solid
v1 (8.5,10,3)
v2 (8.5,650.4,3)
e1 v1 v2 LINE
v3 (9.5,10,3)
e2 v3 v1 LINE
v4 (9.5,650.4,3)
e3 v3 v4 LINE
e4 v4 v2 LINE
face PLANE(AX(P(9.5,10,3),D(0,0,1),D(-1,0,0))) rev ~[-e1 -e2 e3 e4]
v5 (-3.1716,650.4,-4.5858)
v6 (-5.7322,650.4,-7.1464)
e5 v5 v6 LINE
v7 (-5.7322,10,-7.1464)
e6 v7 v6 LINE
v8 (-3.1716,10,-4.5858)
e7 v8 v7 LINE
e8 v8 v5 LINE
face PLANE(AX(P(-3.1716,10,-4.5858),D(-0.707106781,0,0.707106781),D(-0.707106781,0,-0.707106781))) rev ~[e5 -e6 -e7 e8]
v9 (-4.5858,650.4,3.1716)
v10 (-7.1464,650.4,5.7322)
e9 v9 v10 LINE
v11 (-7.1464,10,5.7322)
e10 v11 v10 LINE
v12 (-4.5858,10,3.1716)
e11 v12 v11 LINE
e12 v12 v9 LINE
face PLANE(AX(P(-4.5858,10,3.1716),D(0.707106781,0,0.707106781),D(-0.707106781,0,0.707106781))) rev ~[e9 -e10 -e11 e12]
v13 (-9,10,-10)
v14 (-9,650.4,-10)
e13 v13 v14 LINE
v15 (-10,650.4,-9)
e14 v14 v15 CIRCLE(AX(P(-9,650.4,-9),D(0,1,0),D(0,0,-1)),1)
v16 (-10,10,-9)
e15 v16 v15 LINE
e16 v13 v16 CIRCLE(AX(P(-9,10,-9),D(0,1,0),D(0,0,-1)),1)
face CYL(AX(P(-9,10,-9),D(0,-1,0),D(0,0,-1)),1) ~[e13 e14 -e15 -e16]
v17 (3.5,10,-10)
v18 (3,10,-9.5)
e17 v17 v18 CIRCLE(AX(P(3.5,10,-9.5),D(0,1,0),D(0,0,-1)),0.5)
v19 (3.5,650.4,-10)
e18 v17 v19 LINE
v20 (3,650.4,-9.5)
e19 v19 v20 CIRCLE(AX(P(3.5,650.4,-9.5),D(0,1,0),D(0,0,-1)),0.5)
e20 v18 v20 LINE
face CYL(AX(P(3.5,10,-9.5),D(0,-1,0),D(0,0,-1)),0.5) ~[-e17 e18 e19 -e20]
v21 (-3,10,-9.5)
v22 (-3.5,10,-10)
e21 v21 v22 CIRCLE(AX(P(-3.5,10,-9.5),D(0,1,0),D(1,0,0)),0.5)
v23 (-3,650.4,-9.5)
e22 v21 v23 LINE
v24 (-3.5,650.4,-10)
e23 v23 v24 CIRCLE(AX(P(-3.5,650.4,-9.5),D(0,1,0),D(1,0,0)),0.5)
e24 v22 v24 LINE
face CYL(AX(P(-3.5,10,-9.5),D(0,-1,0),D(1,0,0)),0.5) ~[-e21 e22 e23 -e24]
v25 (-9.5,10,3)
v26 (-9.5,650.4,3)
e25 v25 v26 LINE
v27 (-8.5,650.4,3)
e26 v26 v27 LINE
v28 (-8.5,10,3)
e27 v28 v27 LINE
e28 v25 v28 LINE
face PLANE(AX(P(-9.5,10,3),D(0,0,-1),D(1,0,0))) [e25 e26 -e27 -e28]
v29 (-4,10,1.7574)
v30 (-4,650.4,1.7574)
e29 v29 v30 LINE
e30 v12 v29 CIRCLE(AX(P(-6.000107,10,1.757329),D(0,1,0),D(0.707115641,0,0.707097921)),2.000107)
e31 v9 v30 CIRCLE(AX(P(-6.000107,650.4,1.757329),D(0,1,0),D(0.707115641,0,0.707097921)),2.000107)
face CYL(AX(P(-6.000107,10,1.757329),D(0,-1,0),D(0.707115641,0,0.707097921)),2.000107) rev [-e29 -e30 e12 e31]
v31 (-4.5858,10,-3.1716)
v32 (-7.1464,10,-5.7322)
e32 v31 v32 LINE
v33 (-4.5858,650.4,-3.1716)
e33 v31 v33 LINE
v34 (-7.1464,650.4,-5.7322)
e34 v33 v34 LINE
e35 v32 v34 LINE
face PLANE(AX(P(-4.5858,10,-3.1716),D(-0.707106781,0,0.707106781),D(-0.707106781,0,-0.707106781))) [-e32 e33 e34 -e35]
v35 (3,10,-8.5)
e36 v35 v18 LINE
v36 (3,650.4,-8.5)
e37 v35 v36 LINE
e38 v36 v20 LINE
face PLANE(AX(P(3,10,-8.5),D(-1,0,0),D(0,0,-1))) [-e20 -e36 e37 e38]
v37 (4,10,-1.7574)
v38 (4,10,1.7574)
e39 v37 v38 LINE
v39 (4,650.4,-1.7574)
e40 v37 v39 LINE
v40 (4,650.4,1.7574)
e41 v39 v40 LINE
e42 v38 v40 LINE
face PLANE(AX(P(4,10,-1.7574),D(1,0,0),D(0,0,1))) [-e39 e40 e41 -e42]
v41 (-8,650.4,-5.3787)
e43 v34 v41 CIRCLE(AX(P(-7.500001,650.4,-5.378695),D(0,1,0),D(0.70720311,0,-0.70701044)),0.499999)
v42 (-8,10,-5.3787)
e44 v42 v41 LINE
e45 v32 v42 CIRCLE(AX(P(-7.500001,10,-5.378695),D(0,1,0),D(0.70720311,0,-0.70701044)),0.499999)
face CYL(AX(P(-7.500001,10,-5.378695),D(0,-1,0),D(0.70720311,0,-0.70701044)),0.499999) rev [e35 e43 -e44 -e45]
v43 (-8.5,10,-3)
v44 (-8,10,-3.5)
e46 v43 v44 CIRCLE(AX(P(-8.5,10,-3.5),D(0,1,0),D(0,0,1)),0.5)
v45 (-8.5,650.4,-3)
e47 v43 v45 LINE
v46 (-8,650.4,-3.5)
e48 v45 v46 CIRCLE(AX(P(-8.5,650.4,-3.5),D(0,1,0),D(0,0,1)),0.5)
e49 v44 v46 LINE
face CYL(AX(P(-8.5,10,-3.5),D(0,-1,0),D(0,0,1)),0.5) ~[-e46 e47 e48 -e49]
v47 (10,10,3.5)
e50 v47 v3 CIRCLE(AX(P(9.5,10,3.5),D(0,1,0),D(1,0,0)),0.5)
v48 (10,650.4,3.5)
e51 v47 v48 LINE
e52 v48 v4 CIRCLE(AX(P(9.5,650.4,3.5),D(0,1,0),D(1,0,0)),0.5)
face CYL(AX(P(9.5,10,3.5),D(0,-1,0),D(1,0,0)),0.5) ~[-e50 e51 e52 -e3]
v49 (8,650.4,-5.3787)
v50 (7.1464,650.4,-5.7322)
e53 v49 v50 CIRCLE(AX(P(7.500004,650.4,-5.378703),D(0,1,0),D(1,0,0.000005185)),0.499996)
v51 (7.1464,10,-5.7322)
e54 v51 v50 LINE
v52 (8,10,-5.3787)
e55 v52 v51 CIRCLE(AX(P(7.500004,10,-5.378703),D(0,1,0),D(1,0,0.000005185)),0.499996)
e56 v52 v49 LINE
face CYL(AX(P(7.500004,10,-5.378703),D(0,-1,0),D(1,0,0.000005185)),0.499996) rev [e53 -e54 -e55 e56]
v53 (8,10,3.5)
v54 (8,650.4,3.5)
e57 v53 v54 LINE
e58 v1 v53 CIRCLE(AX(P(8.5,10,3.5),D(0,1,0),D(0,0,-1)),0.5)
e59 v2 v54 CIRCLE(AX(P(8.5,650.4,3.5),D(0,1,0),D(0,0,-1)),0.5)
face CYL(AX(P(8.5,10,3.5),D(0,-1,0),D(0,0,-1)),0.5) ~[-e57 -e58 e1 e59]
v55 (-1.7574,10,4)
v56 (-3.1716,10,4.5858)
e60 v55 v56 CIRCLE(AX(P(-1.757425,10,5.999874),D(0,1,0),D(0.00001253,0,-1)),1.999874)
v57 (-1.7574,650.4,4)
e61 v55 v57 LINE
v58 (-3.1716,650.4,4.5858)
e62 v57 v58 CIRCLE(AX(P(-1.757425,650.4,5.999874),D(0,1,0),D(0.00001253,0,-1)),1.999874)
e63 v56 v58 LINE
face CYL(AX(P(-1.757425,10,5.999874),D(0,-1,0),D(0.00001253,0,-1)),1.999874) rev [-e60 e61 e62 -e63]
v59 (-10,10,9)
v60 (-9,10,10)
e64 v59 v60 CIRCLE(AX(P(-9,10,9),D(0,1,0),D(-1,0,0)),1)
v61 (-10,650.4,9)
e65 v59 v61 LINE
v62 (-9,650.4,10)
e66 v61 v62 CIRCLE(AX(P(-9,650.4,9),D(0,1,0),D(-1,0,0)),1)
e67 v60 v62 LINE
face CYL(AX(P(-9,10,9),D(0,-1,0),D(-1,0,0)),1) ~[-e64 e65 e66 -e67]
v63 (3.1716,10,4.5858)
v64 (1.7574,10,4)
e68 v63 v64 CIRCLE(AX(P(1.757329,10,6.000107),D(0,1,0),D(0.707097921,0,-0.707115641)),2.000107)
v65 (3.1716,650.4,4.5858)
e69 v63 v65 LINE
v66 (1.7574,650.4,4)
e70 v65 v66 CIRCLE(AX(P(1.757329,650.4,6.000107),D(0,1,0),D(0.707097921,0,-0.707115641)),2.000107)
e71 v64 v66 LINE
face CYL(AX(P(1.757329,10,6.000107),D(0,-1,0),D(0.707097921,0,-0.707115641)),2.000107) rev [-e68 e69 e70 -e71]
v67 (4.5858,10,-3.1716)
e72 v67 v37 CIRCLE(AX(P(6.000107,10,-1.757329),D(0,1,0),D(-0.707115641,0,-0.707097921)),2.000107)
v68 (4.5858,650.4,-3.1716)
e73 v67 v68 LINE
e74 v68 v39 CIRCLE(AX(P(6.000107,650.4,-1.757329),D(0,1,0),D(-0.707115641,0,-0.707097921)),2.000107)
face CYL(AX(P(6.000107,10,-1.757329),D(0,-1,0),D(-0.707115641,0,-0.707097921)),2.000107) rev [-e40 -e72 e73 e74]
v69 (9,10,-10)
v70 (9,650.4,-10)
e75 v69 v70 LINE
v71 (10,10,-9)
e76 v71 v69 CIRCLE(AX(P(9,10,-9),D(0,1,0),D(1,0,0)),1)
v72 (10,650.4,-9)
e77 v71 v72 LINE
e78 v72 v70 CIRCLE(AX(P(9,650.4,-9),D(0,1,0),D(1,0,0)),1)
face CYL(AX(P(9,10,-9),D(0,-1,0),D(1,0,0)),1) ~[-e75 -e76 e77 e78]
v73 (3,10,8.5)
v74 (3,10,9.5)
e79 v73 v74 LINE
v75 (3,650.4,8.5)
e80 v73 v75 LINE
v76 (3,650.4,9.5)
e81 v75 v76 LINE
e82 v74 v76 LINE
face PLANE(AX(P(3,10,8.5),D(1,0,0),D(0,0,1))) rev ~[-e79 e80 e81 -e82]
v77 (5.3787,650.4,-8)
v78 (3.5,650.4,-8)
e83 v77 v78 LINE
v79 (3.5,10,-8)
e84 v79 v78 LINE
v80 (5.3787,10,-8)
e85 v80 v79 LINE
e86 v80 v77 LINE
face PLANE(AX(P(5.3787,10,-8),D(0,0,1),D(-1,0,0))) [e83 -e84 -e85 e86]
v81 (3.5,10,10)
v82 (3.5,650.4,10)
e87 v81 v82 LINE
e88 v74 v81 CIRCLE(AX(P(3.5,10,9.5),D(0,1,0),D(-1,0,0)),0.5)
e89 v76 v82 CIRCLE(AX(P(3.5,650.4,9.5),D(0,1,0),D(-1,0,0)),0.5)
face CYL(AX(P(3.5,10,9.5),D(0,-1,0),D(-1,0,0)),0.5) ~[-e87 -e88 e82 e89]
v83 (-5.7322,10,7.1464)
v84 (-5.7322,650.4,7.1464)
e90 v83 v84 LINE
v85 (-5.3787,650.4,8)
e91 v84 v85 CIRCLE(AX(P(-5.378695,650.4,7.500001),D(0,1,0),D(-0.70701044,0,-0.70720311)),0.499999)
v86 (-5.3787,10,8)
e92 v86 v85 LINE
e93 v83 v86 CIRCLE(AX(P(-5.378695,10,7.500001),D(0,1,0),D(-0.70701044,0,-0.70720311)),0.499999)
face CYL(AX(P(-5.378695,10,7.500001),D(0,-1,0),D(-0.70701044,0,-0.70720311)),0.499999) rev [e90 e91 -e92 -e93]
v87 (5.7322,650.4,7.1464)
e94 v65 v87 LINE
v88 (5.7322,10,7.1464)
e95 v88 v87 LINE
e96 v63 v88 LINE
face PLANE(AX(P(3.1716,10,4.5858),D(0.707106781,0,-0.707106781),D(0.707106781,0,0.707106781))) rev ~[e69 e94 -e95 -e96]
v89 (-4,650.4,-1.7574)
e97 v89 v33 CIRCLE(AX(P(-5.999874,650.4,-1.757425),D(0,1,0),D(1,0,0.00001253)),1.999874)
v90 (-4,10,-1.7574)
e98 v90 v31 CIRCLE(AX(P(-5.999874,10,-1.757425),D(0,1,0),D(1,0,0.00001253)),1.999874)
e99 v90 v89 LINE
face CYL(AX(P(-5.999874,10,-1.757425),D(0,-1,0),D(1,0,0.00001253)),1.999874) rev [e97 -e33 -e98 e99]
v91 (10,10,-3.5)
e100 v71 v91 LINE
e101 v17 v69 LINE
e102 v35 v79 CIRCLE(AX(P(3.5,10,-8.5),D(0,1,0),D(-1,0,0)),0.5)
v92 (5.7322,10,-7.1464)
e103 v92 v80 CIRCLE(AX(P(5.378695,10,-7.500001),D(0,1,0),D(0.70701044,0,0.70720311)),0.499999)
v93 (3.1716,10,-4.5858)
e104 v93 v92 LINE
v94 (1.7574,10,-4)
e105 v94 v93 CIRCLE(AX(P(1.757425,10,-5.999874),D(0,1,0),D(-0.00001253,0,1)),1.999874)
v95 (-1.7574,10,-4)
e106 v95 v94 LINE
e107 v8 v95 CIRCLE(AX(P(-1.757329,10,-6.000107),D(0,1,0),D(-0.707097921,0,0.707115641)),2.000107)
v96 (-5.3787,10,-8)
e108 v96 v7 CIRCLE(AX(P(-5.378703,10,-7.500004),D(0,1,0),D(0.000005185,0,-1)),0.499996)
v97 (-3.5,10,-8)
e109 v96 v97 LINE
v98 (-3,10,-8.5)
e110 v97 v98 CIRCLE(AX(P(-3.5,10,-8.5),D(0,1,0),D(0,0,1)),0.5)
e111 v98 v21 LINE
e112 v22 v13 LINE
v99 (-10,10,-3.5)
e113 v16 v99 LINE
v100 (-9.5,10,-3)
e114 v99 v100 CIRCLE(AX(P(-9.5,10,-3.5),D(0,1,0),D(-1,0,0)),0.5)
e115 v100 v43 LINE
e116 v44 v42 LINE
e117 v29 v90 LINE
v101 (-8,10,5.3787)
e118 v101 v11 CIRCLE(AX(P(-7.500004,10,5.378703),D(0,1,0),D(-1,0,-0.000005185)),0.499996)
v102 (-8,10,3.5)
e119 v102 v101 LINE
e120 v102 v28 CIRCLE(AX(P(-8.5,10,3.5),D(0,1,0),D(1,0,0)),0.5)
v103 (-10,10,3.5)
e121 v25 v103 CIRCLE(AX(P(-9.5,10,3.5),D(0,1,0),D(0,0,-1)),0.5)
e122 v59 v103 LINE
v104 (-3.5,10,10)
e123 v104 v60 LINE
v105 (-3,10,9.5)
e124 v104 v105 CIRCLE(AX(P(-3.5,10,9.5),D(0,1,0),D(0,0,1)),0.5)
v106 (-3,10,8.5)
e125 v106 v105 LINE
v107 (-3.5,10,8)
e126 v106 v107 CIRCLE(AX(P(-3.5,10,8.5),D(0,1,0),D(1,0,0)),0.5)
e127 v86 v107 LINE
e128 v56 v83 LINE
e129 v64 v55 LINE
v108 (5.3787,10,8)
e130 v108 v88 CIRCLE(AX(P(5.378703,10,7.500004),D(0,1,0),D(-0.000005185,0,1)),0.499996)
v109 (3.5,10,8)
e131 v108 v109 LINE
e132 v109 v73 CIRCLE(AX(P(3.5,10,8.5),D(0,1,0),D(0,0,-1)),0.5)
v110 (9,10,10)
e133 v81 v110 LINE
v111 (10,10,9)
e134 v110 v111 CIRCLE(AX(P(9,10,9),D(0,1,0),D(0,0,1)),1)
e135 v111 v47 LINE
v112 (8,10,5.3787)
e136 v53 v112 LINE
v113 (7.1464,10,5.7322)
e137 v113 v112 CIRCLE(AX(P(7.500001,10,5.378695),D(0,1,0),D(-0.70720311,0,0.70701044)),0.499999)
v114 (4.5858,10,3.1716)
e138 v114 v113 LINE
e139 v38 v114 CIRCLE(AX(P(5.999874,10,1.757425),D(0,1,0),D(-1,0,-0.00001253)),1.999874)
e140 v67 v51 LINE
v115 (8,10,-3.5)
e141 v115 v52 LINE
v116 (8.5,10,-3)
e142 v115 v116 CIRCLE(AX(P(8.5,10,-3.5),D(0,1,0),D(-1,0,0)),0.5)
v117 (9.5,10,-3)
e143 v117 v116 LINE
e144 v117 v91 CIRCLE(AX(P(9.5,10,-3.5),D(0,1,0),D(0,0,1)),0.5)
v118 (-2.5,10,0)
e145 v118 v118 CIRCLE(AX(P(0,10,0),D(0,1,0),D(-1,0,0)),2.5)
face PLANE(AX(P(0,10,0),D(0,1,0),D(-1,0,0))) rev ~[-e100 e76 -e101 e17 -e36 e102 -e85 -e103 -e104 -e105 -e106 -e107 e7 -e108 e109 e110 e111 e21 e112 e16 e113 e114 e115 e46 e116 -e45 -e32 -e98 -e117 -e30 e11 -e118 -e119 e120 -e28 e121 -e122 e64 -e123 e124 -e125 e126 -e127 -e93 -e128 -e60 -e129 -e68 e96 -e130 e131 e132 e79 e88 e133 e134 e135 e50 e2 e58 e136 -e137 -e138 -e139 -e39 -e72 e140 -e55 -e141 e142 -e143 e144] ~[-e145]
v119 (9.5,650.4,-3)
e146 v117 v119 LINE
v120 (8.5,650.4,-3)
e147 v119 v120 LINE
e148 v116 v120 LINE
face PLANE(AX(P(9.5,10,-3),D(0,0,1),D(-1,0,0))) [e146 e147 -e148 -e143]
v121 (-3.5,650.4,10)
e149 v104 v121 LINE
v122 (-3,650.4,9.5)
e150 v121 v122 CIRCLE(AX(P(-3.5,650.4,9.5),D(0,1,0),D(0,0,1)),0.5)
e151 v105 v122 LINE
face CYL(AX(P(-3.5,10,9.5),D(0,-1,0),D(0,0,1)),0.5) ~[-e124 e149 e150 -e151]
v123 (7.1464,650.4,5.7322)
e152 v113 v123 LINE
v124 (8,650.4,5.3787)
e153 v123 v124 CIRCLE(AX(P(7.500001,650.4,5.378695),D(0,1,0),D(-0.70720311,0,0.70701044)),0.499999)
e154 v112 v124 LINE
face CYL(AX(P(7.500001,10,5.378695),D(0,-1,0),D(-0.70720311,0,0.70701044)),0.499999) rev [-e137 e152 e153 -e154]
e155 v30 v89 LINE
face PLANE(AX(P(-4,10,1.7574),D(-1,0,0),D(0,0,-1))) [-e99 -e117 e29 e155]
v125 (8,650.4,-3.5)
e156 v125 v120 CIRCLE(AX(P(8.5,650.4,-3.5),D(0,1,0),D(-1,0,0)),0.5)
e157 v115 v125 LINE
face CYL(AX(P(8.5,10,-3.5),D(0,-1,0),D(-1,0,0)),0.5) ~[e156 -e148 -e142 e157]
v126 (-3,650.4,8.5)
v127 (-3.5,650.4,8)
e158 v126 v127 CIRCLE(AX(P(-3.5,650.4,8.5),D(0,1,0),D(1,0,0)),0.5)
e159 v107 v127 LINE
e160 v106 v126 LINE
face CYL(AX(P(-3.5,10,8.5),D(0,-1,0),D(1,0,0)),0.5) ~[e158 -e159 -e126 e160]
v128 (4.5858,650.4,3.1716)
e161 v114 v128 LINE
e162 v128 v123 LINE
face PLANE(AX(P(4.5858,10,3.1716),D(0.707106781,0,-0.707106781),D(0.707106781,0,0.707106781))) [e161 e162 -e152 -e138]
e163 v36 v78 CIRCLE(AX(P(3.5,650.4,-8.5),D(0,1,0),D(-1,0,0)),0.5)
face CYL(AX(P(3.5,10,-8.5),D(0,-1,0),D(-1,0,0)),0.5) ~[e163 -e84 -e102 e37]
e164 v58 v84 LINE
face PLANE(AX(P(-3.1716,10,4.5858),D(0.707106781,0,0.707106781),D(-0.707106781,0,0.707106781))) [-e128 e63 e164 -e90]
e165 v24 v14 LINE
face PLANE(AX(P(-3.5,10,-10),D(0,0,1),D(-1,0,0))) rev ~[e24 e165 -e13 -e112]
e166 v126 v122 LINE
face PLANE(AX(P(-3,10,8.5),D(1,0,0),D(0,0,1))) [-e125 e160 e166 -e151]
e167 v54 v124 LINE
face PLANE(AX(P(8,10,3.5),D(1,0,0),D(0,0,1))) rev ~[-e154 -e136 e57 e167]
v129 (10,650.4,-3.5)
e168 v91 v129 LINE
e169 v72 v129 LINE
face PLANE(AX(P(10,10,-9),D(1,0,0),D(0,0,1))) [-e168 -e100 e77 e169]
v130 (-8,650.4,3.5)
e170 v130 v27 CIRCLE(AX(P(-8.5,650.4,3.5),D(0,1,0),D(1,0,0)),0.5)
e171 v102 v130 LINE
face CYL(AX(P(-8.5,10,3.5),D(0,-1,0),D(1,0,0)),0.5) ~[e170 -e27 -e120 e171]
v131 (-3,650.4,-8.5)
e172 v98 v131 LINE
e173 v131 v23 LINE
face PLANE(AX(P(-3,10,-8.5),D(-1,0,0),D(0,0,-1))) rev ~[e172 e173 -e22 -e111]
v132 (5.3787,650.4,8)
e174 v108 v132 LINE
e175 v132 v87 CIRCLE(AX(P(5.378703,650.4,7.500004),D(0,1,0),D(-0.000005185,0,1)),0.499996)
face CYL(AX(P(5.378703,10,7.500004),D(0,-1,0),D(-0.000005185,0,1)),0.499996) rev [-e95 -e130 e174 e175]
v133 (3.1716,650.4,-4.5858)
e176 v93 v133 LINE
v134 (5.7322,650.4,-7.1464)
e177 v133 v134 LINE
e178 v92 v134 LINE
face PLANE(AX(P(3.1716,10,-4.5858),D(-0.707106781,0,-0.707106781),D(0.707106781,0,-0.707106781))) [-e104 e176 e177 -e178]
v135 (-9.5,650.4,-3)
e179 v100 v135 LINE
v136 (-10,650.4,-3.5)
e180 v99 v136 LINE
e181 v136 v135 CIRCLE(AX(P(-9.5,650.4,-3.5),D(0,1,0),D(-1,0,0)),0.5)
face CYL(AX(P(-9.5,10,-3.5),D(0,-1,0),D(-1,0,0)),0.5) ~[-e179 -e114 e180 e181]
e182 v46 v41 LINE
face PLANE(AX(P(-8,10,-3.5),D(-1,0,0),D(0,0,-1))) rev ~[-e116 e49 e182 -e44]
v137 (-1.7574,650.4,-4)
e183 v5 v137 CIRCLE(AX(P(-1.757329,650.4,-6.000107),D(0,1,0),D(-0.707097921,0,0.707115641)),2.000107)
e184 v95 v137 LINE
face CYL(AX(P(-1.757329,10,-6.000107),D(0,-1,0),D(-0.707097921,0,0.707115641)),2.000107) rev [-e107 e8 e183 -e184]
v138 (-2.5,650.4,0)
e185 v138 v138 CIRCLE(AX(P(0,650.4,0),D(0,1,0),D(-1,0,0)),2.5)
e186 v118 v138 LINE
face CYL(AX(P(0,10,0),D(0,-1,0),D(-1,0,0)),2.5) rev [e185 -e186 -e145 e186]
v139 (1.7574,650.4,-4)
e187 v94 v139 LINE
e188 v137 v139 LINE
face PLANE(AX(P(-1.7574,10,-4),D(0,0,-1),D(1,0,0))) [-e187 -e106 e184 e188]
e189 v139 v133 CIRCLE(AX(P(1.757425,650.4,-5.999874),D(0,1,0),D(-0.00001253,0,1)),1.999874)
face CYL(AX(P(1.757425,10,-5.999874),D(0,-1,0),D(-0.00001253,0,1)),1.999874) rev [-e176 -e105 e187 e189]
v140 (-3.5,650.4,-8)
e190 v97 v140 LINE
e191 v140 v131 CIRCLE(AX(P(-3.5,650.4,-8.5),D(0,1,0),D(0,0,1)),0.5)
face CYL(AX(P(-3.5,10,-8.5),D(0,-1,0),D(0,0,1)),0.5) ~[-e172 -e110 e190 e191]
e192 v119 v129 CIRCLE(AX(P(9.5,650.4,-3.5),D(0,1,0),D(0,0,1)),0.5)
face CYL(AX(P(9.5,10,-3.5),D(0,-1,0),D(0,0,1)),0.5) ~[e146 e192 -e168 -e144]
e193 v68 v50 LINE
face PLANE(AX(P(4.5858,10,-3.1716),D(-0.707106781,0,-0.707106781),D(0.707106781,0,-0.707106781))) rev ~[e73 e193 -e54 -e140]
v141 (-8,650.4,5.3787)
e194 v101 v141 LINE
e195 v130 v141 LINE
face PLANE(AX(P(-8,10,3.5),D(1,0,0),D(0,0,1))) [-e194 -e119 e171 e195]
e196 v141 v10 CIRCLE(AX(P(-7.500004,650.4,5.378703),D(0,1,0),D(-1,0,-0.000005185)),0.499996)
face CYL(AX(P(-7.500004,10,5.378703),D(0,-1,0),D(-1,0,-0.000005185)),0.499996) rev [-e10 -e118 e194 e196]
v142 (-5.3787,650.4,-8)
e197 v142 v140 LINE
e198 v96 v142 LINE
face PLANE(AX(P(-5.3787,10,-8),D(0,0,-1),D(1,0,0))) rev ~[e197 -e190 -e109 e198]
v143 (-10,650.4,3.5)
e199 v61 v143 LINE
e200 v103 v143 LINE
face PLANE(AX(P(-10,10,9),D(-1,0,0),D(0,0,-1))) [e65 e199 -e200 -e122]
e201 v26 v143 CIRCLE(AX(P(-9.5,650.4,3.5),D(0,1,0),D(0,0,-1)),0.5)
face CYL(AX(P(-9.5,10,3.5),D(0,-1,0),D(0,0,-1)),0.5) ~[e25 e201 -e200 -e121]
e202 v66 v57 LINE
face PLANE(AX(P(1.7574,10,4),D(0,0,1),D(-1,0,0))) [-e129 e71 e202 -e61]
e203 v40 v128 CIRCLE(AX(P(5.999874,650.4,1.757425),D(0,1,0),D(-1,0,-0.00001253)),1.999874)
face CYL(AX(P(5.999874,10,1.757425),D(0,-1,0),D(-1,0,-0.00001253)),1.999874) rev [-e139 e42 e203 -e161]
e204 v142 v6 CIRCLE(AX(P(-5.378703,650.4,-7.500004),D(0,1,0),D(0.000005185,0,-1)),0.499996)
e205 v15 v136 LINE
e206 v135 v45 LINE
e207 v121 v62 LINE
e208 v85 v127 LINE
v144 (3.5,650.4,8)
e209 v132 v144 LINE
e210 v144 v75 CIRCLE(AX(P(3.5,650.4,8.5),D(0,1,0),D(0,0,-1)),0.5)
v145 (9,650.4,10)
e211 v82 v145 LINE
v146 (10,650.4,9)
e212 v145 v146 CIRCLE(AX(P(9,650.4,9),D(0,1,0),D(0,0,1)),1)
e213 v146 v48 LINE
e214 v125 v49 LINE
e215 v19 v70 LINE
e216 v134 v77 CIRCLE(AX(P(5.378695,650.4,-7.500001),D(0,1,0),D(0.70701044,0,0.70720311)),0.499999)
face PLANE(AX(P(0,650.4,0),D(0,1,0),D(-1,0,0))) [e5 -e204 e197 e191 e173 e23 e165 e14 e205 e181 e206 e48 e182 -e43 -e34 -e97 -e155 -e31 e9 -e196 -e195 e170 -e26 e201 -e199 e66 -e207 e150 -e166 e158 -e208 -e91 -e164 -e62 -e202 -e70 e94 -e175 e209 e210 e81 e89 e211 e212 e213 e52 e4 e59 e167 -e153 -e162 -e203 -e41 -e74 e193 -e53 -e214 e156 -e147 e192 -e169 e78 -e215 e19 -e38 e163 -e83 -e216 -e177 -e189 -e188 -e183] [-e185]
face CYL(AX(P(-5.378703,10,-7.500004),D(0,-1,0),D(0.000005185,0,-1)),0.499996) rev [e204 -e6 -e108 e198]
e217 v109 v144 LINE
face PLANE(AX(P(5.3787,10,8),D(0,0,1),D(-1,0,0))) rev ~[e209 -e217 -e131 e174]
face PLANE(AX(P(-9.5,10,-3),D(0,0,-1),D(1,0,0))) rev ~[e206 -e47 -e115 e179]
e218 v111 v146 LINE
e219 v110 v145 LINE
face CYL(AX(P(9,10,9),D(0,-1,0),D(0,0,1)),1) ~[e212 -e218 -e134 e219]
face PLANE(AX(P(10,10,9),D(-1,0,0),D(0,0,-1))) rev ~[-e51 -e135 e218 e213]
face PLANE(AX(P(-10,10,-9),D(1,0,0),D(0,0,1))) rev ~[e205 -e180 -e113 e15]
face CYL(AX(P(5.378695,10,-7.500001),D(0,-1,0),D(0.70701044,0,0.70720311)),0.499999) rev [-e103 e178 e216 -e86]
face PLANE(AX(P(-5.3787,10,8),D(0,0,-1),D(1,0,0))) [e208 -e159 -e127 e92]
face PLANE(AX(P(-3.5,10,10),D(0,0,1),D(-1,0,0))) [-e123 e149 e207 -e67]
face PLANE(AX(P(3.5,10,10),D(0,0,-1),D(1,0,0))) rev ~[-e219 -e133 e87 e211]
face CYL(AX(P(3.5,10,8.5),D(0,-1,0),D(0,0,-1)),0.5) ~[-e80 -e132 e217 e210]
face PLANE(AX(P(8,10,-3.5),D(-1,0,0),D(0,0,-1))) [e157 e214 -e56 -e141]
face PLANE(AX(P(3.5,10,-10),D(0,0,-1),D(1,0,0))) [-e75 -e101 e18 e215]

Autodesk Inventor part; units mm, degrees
ref_plane "Start Plane" through (0, 10, 0) normal (0, 1, 0) x (-1, 0, 0)
ref_plane "End Plane" through (0, 650.4, 0) normal (0, 1, 0) x (-1, 0, 0)
sketch "Sketch" plane through (0, 0, 0) normal (0, 1, 0) x (-1, 0, 0)
  line L0 (-1.7574, 4) -> (1.7574, 4)
  line L1 (4, 1.7574) -> (4, -1.7574)
  line L2 (1.7574, -4) -> (-1.7574, -4)
  line L3 (-4, -1.7574) -> (-4, 1.7574)
  line L4 (4.5858, -3.1716) -> (7.1464, -5.7322)
  line L5 (3.1716, -4.5858) -> (5.7322, -7.1464)
  line L6 (5.3787, -8) -> (3.5, -8)
  line L7 (3, -8.5) -> (3, -9.5)
  line L8 (3.5, -10) -> (9, -10)
  line L9 (10, -9) -> (10, -3.5)
  line L10 (9.5, -3) -> (8.5, -3)
  line L11 (8, -3.5) -> (8, -5.3787)
  line L12 (4, 0) -> (-4, 0) construction
  line L13 (0, -4) -> (0, 4) construction
  arc A0 (4, -1.7574) -> (4.5858, -3.1716) centre (6, -1.7574) ccw
  arc A1 (3.1716, -4.5858) -> (1.7574, -4) centre (1.7574, -6) ccw
  arc A2 (3.5, -8) -> (3, -8.5) centre (3.5, -8.5) ccw
  arc A3 (3, -9.5) -> (3.5, -10) centre (3.5, -9.5) ccw
  arc A4 (10, -3.5) -> (9.5, -3) centre (9.5, -3.5) ccw
  arc A5 (8.5, -3) -> (8, -3.5) centre (8.5, -3.5) ccw
  arc A6 (7.1464, -5.7322) -> (8, -5.3787) centre (7.5, -5.3787) ccw
  arc A7 (5.3787, -8) -> (5.7322, -7.1464) centre (5.3787, -7.5) ccw
  arc A8 (9, -10) -> (10, -9) centre (9, -9) ccw
  line L14 (-4.5858, -3.1716) -> (-7.1464, -5.7322)
  line L15 (-3.1716, -4.5858) -> (-5.7322, -7.1464)
  line L16 (-5.3787, -8) -> (-3.5, -8)
  line L17 (-3, -8.5) -> (-3, -9.5)
  line L18 (-3.5, -10) -> (-9, -10)
  line L19 (-10, -9) -> (-10, -3.5)
  line L20 (-9.5, -3) -> (-8.5, -3)
  line L21 (-8, -3.5) -> (-8, -5.3787)
  arc A9 (-4.5858, -3.1716) -> (-4, -1.7574) centre (-6, -1.7574) ccw
  arc A10 (-1.7574, -4) -> (-3.1716, -4.5858) centre (-1.7574, -6) ccw
  arc A11 (-3, -8.5) -> (-3.5, -8) centre (-3.5, -8.5) ccw
  arc A12 (-3.5, -10) -> (-3, -9.5) centre (-3.5, -9.5) ccw
  arc A13 (-9.5, -3) -> (-10, -3.5) centre (-9.5, -3.5) ccw
  arc A14 (-8, -3.5) -> (-8.5, -3) centre (-8.5, -3.5) ccw
  arc A15 (-8, -5.3787) -> (-7.1464, -5.7322) centre (-7.5, -5.3787) ccw
  arc A16 (-5.7322, -7.1464) -> (-5.3787, -8) centre (-5.3787, -7.5) ccw
  arc A17 (-10, -9) -> (-9, -10) centre (-9, -9) ccw
  line L22 (4.5858, 3.1716) -> (7.1464, 5.7322)
  line L23 (3.1716, 4.5858) -> (5.7322, 7.1464)
  line L24 (5.3787, 8) -> (3.5, 8)
  line L25 (3, 8.5) -> (3, 9.5)
  line L26 (3.5, 10) -> (9, 10)
  line L27 (10, 9) -> (10, 3.5)
  line L28 (9.5, 3) -> (8.5, 3)
  line L29 (8, 3.5) -> (8, 5.3787)
  arc A18 (4.5858, 3.1716) -> (4, 1.7574) centre (6, 1.7574) ccw
  arc A19 (1.7574, 4) -> (3.1716, 4.5858) centre (1.7574, 6) ccw
  arc A20 (3, 8.5) -> (3.5, 8) centre (3.5, 8.5) ccw
  arc A21 (3.5, 10) -> (3, 9.5) centre (3.5, 9.5) ccw
  arc A22 (9.5, 3) -> (10, 3.5) centre (9.5, 3.5) ccw
  arc A23 (8, 3.5) -> (8.5, 3) centre (8.5, 3.5) ccw
  arc A24 (8, 5.3787) -> (7.1464, 5.7322) centre (7.5, 5.3787) ccw
  arc A25 (5.7322, 7.1464) -> (5.3787, 8) centre (5.3787, 7.5) ccw
  arc A26 (10, 9) -> (9, 10) centre (9, 9) ccw
  line L30 (-10, 9) -> (-10, 3.5)
  arc A27 (-9, 10) -> (-10, 9) centre (-9, 9) ccw
  arc A28 (-10, 3.5) -> (-9.5, 3) centre (-9.5, 3.5) ccw
  line L31 (-9.5, 3) -> (-8.5, 3)
  arc A29 (-8.5, 3) -> (-8, 3.5) centre (-8.5, 3.5) ccw
  line L32 (-8, 3.5) -> (-8, 5.3787)
  arc A30 (-7.1464, 5.7322) -> (-8, 5.3787) centre (-7.5, 5.3787) ccw
  line L33 (-4.5858, 3.1716) -> (-7.1464, 5.7322)
  line L34 (-3.1716, 4.5858) -> (-5.7322, 7.1464)
  arc A31 (-3.1716, 4.5858) -> (-1.7574, 4) centre (-1.7574, 6) ccw
  arc A32 (-4, 1.7574) -> (-4.5858, 3.1716) centre (-6, 1.7574) ccw
  arc A33 (-5.3787, 8) -> (-5.7322, 7.1464) centre (-5.3787, 7.5) ccw
  line L35 (-5.3787, 8) -> (-3.5, 8)
  arc A34 (-3.5, 8) -> (-3, 8.5) centre (-3.5, 8.5) ccw
  line L36 (-3, 8.5) -> (-3, 9.5)
  arc A35 (-3, 9.5) -> (-3.5, 10) centre (-3.5, 9.5) ccw
  line L37 (-3.5, 10) -> (-9, 10)
  circle A36 centre (0, 0) radius 2.5
  point P0 (3, -8)
  point P1 (3, -10)
  point P2 (10, -10)
  dimension "d3" = 2
  dimension "d4" = 2
  dimension "d5" = 7
  dimension "d6" = 2
  dimension "d7" = 0.5
  dimension "d8" = 1
  dimension "d9" = 20
  dimension "d10" = 20
  dimension "d11" = 8
  dimension "d13" = 5
  dimension "d14" = 8
extrude "Body" add sketch "Sketch" along normal up to surface (640.4 mm away) from surface at 10
sketch "Sketch4" plane through (0, 0, 0) normal (0, 1, 0) x (-1, 0, 0)
  line L0 (0, 0) -> (10, 0)
ref_plane "Work Plane4" through (0, 0, 0) normal (0, 0, -1) x (-1, 0, 0)
sketch "Sketch5" plane through (0, 0, 0) normal (0, 0, -1) x (-1, 0, 0)
  line L0 (-2, 10) -> (12, 10)
  line L1 (-2, 650.4) -> (12, 650.4)
  dimension "d22" = 640.4
ref_plane "Work Plane5" through (9, 10, -279.4) normal (0, -1, 0) x (1, 0, 0)
split "Split1" plane through (9, 10, -279.4) removes the side toward (0, -1, 0)
ref_plane "Work Plane6" through (9, 650.4, 0) normal (0, 1, 0) x (1, 0, 0)
split "Split2" plane through (9, 650.4, 0) removes the side toward (0, 1, 0)
equation "\"d18\" = Length + G_OFFSET_END"
equation "\"G_L\" = d22"
equation "\"Length\" = 660.4"
equation "\"G_OFFSET_END\" = -10"
properties part number "A3.3"
